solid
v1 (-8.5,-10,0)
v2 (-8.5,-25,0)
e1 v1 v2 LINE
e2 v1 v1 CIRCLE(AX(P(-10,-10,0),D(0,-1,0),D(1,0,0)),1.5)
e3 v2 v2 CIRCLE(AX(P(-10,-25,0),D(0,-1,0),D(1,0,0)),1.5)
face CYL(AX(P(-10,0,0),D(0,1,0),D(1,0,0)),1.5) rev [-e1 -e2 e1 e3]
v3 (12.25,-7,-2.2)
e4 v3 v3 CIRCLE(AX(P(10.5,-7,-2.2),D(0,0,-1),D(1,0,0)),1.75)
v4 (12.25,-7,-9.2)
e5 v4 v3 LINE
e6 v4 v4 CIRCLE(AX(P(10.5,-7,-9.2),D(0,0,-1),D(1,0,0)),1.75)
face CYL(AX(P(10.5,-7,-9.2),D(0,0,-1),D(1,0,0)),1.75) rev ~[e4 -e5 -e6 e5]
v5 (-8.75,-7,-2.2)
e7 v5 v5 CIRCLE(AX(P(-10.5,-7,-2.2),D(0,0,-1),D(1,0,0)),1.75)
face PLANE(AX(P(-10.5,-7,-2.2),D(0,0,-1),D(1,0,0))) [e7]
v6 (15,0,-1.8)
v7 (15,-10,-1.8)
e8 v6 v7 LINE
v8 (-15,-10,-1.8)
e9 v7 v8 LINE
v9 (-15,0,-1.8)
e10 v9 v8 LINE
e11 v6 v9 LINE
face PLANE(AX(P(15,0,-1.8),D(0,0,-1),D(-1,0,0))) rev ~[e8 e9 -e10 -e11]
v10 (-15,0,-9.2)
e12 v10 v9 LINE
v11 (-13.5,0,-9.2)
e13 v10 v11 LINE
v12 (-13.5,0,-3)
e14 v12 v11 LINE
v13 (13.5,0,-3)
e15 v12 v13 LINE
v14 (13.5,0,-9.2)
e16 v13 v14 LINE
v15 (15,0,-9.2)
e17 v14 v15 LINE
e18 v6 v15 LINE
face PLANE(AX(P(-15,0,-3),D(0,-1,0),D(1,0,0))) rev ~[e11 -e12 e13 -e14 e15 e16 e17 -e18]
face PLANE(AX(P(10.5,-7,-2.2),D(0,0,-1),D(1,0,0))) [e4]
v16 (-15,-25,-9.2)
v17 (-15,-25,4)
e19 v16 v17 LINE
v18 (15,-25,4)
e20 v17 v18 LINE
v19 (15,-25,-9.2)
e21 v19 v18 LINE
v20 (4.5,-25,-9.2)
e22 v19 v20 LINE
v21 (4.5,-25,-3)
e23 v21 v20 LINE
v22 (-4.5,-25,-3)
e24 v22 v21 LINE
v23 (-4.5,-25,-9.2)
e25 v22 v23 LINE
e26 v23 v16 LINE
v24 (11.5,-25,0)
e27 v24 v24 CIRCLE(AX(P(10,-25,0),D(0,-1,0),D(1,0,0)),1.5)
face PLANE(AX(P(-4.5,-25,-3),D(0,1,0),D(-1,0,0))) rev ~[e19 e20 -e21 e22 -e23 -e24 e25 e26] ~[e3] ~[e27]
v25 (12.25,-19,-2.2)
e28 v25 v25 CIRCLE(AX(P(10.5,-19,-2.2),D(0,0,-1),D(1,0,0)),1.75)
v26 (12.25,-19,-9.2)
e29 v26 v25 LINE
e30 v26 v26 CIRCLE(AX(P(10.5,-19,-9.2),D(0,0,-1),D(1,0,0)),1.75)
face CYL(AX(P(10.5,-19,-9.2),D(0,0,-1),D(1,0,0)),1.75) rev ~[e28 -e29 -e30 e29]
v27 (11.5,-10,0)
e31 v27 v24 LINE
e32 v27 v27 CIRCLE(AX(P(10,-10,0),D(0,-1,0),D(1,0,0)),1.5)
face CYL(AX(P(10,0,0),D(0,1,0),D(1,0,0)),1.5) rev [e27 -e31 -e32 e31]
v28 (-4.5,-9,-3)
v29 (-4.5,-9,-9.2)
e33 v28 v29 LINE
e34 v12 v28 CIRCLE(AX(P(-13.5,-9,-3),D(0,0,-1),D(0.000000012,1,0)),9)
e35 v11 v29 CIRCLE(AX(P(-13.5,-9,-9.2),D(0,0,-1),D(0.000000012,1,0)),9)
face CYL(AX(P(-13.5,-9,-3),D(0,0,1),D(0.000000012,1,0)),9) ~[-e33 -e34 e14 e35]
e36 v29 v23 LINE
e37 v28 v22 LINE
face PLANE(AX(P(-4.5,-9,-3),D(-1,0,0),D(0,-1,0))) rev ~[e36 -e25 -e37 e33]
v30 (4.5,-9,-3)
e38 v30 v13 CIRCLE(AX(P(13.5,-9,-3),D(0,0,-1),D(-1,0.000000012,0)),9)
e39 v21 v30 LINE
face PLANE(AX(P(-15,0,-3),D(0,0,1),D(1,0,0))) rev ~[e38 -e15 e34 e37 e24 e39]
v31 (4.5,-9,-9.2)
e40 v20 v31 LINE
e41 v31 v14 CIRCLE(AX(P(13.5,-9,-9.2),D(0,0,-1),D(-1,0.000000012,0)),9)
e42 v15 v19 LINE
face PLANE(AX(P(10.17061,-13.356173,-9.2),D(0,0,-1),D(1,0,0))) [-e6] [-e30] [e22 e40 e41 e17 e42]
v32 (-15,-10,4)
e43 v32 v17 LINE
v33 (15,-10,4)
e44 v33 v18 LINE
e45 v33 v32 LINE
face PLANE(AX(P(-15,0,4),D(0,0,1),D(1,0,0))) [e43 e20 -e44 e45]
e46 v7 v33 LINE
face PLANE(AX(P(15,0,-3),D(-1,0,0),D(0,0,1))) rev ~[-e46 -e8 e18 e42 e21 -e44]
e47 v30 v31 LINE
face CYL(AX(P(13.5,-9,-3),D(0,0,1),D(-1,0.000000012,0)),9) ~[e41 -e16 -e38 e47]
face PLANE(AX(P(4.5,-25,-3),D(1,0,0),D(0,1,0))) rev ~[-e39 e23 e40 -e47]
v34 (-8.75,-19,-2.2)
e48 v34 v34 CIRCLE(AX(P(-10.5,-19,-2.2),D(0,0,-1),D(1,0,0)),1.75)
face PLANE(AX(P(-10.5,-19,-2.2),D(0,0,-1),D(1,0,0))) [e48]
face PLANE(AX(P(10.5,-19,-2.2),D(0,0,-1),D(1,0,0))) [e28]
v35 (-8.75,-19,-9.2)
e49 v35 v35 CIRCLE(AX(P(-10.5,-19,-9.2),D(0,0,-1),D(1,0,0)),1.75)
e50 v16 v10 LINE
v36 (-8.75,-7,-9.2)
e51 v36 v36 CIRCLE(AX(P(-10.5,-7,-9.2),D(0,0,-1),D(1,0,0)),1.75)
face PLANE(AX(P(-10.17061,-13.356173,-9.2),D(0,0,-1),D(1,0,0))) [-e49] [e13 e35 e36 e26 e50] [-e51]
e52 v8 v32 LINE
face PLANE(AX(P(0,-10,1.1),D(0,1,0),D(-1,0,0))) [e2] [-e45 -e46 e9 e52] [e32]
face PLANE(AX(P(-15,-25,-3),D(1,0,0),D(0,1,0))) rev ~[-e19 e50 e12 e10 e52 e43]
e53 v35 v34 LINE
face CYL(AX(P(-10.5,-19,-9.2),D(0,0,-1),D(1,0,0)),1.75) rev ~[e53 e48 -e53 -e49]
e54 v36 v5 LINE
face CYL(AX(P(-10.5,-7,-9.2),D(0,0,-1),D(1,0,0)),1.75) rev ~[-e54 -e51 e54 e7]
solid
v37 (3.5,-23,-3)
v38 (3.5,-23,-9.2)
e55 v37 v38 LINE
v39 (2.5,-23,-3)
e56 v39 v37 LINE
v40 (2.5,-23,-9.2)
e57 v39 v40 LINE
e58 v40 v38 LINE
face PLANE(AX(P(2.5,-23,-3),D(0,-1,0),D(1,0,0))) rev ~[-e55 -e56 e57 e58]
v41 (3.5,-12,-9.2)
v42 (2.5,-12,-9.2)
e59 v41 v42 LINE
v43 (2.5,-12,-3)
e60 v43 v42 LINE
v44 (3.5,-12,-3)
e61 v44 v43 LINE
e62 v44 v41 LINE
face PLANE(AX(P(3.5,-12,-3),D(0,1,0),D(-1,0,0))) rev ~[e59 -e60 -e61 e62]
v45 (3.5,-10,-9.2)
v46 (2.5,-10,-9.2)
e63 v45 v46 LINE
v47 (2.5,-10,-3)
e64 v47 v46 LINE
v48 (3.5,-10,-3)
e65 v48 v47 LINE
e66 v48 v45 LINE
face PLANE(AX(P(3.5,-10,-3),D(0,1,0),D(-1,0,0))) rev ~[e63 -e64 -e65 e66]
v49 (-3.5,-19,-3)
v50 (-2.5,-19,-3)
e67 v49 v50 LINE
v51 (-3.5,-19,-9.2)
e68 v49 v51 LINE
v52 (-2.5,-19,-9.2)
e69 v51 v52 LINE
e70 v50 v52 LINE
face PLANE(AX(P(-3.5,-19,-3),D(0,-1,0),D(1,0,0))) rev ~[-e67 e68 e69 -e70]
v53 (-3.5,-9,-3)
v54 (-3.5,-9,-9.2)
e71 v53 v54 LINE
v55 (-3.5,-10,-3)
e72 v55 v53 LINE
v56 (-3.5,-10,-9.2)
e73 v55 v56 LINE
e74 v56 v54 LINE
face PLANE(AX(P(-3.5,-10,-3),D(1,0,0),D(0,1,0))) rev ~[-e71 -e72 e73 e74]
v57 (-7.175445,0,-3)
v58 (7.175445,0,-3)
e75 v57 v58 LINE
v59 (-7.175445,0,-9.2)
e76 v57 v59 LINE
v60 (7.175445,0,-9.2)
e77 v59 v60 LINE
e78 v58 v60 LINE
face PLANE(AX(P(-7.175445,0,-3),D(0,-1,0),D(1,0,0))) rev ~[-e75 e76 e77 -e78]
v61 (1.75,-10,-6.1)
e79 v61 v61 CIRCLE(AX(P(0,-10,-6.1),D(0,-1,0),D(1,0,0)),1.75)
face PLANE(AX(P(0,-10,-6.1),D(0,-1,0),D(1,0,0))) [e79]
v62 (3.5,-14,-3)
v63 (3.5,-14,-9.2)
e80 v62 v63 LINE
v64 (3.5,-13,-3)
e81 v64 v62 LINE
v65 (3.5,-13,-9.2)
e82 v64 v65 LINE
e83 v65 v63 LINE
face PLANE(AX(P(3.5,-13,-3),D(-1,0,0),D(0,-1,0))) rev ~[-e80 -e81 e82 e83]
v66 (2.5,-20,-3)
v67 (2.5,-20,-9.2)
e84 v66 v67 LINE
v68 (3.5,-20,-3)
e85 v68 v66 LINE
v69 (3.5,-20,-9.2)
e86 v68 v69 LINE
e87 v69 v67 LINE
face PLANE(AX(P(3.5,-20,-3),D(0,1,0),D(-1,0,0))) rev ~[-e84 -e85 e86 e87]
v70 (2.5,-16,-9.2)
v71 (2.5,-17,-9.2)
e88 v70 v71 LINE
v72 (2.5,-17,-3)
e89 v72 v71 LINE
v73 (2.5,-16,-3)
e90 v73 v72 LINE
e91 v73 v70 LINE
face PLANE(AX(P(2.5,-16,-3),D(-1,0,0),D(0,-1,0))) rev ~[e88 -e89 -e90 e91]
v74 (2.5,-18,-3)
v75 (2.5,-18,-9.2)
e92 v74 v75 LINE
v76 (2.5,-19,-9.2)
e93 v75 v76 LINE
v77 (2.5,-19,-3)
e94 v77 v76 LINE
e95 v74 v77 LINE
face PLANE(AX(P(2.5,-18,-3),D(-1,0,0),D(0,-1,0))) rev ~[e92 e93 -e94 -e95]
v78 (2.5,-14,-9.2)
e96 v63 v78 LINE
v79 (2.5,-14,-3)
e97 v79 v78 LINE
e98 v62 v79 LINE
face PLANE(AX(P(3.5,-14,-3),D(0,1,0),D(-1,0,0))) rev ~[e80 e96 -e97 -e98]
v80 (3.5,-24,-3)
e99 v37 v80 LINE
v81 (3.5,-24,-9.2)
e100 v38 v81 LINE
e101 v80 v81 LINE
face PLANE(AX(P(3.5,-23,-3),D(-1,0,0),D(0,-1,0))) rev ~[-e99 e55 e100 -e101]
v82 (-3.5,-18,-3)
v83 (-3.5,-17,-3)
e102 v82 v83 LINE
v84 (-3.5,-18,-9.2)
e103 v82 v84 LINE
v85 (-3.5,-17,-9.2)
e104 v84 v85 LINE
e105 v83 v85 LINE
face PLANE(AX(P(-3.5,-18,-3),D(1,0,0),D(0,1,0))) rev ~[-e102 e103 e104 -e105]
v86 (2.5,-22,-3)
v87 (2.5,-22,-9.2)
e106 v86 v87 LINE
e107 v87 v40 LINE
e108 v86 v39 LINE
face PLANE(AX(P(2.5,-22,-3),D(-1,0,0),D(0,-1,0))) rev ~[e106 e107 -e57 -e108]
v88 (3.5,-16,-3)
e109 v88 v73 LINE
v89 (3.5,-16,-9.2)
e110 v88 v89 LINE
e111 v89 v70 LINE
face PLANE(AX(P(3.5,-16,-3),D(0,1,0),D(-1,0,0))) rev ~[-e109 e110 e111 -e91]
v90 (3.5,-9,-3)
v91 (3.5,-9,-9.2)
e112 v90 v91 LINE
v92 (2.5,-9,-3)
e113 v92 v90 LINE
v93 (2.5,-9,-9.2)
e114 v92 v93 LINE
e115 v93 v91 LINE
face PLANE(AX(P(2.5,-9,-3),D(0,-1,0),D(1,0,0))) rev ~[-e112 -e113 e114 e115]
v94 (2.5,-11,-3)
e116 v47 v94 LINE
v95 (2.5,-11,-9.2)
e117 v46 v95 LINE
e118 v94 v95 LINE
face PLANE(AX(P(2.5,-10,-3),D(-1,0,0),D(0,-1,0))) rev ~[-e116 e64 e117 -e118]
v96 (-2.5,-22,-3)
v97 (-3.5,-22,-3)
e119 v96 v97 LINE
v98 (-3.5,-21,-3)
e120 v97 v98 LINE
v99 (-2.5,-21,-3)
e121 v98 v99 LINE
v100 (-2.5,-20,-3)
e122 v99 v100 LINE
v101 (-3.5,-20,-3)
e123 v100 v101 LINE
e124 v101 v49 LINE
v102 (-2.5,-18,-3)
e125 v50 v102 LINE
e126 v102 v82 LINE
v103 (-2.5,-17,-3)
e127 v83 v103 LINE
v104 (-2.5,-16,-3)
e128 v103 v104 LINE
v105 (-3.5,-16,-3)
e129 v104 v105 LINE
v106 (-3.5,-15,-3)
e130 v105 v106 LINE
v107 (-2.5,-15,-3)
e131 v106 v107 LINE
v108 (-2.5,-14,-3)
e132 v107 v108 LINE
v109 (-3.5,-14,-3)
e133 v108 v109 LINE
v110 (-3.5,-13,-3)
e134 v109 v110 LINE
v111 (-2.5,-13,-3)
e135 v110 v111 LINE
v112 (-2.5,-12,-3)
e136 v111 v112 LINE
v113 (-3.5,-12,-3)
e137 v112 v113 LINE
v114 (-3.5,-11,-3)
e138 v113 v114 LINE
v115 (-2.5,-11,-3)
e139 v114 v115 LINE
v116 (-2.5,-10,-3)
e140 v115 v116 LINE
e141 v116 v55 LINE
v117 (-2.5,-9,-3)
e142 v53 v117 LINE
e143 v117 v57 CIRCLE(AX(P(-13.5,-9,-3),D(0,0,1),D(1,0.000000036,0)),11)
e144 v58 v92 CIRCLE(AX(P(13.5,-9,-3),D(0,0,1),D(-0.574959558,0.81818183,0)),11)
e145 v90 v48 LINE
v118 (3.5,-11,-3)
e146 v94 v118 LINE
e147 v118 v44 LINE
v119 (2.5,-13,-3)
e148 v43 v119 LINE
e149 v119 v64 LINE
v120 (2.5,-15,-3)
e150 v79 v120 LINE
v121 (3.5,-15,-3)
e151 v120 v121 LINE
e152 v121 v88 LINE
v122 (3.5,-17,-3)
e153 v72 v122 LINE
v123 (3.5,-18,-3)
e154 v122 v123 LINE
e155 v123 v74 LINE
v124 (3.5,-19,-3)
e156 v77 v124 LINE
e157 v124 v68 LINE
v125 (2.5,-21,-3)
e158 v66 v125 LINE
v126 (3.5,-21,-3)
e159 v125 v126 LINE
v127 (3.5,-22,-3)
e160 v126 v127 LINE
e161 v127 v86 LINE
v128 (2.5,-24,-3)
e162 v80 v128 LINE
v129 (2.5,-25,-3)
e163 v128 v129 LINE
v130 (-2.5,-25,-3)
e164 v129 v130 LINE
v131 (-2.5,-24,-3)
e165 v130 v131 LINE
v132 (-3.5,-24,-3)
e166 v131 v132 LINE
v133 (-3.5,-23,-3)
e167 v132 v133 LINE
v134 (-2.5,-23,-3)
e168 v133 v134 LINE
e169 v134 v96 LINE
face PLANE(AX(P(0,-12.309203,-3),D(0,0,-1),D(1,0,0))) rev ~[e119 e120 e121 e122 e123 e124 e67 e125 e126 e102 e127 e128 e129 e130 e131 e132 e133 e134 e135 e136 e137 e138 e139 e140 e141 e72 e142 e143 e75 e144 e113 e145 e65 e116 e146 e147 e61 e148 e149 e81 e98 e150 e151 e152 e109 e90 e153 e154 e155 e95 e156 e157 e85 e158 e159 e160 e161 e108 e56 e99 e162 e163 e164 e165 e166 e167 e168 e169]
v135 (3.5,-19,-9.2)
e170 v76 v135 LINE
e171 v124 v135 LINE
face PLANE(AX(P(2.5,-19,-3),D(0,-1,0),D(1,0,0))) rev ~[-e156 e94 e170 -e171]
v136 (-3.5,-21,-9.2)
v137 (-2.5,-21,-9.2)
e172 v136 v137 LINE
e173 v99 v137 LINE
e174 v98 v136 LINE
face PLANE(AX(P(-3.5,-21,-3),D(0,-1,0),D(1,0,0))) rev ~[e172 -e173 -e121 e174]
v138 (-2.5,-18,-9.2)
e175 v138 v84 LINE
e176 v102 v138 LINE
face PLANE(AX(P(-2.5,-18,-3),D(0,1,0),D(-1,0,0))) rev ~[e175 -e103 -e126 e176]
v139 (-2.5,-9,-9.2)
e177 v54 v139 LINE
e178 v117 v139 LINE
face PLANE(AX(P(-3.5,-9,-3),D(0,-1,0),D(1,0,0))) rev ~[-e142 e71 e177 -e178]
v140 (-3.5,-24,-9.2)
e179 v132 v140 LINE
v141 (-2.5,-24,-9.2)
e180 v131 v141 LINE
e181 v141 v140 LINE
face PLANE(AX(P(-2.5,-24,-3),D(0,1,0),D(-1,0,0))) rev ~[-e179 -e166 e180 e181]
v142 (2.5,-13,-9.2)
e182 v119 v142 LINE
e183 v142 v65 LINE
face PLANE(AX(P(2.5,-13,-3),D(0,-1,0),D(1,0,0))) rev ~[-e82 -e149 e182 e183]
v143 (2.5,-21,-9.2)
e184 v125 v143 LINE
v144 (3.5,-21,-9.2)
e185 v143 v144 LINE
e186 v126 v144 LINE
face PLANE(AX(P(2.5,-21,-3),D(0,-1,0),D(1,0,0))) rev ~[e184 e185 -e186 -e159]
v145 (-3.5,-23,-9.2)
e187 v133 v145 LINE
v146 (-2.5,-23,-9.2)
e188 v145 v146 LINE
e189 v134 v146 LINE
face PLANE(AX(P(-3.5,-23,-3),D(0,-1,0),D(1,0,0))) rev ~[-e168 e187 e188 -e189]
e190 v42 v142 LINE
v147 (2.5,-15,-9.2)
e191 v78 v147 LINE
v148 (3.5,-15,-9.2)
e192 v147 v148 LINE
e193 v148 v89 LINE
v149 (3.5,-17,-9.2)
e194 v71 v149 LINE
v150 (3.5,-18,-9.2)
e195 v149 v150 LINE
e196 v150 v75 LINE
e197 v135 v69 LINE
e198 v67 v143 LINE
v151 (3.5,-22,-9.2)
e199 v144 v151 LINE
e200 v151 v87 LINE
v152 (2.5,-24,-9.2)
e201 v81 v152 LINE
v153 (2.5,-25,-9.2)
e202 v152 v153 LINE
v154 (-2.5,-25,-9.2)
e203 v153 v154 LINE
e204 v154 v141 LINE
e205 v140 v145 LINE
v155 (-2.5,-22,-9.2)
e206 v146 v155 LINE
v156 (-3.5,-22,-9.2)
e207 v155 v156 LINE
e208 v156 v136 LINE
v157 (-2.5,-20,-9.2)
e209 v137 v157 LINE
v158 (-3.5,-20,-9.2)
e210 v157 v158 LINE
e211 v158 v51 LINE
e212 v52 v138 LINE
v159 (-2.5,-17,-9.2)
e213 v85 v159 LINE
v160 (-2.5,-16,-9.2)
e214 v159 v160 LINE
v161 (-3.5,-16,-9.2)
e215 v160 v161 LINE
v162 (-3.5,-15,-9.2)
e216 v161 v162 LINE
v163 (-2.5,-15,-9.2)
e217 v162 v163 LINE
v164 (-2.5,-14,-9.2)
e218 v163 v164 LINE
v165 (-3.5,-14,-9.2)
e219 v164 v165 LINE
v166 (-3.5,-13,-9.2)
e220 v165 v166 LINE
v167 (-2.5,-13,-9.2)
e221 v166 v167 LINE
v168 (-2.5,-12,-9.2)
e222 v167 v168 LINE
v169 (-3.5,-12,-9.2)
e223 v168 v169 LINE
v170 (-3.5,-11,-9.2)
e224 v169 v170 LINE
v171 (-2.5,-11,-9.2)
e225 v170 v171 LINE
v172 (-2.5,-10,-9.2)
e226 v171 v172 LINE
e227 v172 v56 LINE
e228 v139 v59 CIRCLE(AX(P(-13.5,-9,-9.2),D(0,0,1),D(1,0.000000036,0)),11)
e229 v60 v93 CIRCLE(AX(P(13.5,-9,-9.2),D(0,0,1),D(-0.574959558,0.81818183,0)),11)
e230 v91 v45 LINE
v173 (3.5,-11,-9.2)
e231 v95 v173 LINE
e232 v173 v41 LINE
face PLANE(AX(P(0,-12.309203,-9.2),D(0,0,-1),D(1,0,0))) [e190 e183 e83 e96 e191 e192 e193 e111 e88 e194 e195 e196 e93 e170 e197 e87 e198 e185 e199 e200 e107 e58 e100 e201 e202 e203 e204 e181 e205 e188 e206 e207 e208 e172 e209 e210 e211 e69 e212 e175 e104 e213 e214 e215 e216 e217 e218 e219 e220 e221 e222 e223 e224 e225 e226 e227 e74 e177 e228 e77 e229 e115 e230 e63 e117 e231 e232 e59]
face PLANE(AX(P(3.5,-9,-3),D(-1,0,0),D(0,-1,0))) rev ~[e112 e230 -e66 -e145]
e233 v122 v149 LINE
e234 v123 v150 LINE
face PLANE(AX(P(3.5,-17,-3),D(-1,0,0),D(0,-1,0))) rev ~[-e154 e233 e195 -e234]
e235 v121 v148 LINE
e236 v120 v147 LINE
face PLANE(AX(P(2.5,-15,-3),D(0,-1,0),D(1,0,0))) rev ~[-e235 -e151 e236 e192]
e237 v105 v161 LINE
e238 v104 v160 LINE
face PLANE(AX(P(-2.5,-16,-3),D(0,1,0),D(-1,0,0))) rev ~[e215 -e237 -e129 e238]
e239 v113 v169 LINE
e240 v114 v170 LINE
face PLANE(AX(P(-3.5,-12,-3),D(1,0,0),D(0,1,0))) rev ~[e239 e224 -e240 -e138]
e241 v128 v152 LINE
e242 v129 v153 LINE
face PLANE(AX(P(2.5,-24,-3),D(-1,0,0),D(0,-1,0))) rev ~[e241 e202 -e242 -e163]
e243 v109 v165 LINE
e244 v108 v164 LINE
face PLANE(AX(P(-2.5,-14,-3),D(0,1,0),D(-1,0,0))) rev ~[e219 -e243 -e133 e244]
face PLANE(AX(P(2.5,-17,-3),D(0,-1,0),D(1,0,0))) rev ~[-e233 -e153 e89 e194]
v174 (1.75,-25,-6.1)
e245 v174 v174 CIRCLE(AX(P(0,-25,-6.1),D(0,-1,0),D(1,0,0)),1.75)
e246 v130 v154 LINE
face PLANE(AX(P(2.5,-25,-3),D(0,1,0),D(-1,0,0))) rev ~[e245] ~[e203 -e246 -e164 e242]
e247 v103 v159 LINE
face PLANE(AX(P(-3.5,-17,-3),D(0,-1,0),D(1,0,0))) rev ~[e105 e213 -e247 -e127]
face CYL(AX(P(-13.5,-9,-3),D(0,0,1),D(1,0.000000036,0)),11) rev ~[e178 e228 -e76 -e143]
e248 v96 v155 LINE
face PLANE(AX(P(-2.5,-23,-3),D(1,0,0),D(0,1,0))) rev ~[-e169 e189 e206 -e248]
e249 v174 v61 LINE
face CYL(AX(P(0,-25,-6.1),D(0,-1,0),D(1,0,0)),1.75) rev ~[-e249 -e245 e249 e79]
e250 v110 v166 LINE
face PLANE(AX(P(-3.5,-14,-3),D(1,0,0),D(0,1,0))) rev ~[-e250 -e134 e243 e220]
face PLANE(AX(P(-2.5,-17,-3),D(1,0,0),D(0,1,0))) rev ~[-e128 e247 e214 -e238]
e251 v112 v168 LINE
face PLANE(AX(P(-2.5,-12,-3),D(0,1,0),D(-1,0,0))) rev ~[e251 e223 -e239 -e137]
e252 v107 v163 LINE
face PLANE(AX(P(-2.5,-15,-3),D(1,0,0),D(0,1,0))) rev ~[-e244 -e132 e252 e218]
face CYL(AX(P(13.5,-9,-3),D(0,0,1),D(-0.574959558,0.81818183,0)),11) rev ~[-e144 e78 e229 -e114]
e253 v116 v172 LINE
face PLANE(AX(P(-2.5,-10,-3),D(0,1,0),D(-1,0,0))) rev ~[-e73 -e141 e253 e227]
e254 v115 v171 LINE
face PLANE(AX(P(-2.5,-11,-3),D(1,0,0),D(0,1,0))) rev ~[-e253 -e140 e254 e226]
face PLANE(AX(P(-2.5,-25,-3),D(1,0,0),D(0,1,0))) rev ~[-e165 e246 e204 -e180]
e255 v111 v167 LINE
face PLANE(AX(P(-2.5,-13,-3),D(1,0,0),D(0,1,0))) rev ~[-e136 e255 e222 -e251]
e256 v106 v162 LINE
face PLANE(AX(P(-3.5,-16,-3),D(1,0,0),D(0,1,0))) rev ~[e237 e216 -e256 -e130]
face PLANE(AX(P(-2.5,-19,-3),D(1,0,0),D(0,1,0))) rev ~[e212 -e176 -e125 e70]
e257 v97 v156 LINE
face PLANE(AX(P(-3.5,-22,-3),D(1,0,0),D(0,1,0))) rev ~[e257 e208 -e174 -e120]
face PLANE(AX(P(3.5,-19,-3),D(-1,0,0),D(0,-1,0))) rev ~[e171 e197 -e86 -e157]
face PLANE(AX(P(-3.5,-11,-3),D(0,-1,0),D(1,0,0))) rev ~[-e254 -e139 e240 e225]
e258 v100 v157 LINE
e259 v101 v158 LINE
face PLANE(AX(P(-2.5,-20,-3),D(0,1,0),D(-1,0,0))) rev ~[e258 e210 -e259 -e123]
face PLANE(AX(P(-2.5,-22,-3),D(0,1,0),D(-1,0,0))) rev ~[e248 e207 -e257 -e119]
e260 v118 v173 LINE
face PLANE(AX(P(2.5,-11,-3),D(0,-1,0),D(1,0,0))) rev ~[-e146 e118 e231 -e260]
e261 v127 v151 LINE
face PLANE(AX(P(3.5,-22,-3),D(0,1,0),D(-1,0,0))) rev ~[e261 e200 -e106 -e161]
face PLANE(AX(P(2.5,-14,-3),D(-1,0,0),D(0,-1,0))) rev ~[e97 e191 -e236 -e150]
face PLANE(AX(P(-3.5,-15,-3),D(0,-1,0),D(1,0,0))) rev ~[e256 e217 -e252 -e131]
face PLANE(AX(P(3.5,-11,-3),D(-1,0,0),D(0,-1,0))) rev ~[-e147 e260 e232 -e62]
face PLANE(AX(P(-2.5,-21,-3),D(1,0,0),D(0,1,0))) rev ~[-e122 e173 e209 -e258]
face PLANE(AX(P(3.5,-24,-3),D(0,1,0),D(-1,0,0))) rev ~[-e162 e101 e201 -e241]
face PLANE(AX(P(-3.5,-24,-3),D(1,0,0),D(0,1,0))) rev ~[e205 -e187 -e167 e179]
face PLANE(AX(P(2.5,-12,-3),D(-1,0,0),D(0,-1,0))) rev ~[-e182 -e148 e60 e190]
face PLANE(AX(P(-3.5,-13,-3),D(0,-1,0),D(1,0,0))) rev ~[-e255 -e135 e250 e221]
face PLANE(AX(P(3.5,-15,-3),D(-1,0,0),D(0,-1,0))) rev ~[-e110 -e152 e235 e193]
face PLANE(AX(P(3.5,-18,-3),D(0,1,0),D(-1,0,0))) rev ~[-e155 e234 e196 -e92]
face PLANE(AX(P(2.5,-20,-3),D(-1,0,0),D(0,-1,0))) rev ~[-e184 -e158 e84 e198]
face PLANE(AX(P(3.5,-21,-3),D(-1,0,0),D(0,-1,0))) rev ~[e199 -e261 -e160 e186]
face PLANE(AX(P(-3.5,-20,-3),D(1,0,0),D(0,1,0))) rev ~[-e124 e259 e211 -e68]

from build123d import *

# Parameters (mm, degrees)
F0_W      = 30
F0_H      = 7
F0_R      = 1.5
F1_DEPTH  = 25
F3_DEPTH  = 6.2
F4_DEPTH  = 6.2
F5_R      = 1.75
F6_DEPTH  = 15
F7_R      = 1.75
F8_DEPTH  = 7
F9_W      = 30
F9_H      = 5.8
F9_R      = 1.5
F10_DEPTH = 10


with BuildPart() as f1:
    # F0 (on Front) → F1 (new body)
    with BuildSketch(Plane.XZ):
        with Locations((0, 0.5)):
            Rectangle(F0_W, F0_H)
        with Locations((-10, 0)):
            Circle(F0_R, mode=Mode.SUBTRACT)
        with Locations((10, 0)):
            Circle(F0_R, mode=Mode.SUBTRACT)
    extrude(amount=F1_DEPTH)

    # F2 (on face) → F4 (join)
    with BuildSketch(Plane(origin=(0, 0, -3), x_dir=(1, 0, 0), z_dir=(0, 0, -1))):
        with BuildLine():
            Line((-15, 0), (-13.5, 0))
            ThreePointArc((-13.5, 0), (-7.136039, 2.636039), (-4.5, 9))
            Line((-4.5, 9), (-4.5, 25))
            Line((-4.5, 25), (-15, 25))
            Line((-15, 25), (-15, 0))
        make_face()
        with BuildLine():
            Line((4.5, 25), (4.5, 9))
            ThreePointArc((4.5, 9), (7.136039, 2.636039), (13.5, 0))
            Line((13.5, 0), (15, 0))
            Line((15, 0), (15, 25))
            Line((15, 25), (4.5, 25))
        make_face()
    extrude(amount=F4_DEPTH)

    # F7 (on face) → F8 (cut)
    with BuildSketch(Plane(origin=(0, 0, -9.2), x_dir=(1, 0, 0), z_dir=(0, 0, -1))):
        with Locations((10.5, 7)):
            Circle(F7_R)
        with Locations((10.5, 19)):
            Circle(F7_R)
        with Locations((-10.5, 7)):
            Circle(F7_R)
        with Locations((-10.5, 19)):
            Circle(F7_R)
    extrude(amount=-F8_DEPTH, mode=Mode.SUBTRACT)

    # F9 (on face) → F10 (cut)
    with BuildSketch(Plane(origin=(0, 0, 0), x_dir=(-1, 0, 0), z_dir=(0, 1, 0))):
        with Locations((0, 1.1)):
            Rectangle(F9_W, F9_H)
        with Locations((-10, 0)):
            Circle(F9_R, mode=Mode.SUBTRACT)
        with Locations((10, 0)):
            Circle(F9_R, mode=Mode.SUBTRACT)
    extrude(amount=-F10_DEPTH, mode=Mode.SUBTRACT)


with BuildPart() as f3:
    # F2 (on face) → F3 (new body)
    with BuildSketch(Plane(origin=(0, 0, -3), x_dir=(1, 0, 0), z_dir=(0, 0, -1))):
        with BuildLine():
            ThreePointArc((-2.5, 9), (-3.738594, 3.929009), (-7.175445, 0))
            Line((-7.175445, 0), (7.175445, 0))
            ThreePointArc((7.175445, 0), (3.738594, 3.929009), (2.5, 9))
            Line((2.5, 9), (3.5, 9))
            Line((3.5, 9), (3.5, 10))
            Line((3.5, 10), (2.5, 10))
            Line((2.5, 10), (2.5, 11))
            Line((2.5, 11), (3.5, 11))
            Line((3.5, 11), (3.5, 12))
            Line((3.5, 12), (2.5, 12))
            Line((2.5, 12), (2.5, 13))
            Line((2.5, 13), (3.5, 13))
            Line((3.5, 13), (3.5, 14))
            Line((3.5, 14), (2.5, 14))
            Line((2.5, 14), (2.5, 15))
            Line((2.5, 15), (3.5, 15))
            Line((3.5, 15), (3.5, 16))
            Line((3.5, 16), (2.5, 16))
            Line((2.5, 16), (2.5, 17))
            Line((2.5, 17), (3.5, 17))
            Line((3.5, 17), (3.5, 18))
            Line((3.5, 18), (2.5, 18))
            Line((2.5, 18), (2.5, 19))
            Line((2.5, 19), (3.5, 19))
            Line((3.5, 19), (3.5, 20))
            Line((3.5, 20), (2.5, 20))
            Line((2.5, 20), (2.5, 21))
            Line((2.5, 21), (3.5, 21))
            Line((3.5, 21), (3.5, 22))
            Line((3.5, 22), (2.5, 22))
            Line((2.5, 22), (2.5, 23))
            Line((2.5, 23), (3.5, 23))
            Line((3.5, 23), (3.5, 24))
            Line((3.5, 24), (2.5, 24))
            Line((2.5, 24), (2.5, 25))
            Line((2.5, 25), (-2.5, 25))
            Line((-2.5, 25), (-2.5, 24))
            Line((-2.5, 24), (-3.5, 24))
            Line((-3.5, 24), (-3.5, 23))
            Line((-3.5, 23), (-2.5, 23))
            Line((-2.5, 23), (-2.5, 22))
            Line((-2.5, 22), (-3.5, 22))
            Line((-3.5, 22), (-3.5, 21))
            Line((-3.5, 21), (-2.5, 21))
            Line((-2.5, 21), (-2.5, 20))
            Line((-2.5, 20), (-3.5, 20))
            Line((-3.5, 20), (-3.5, 19))
            Line((-3.5, 19), (-2.5, 19))
            Line((-2.5, 19), (-2.5, 18))
            Line((-2.5, 18), (-3.5, 18))
            Line((-3.5, 18), (-3.5, 17))
            Line((-3.5, 17), (-2.5, 17))
            Line((-2.5, 17), (-2.5, 16))
            Line((-2.5, 16), (-3.5, 16))
            Line((-3.5, 16), (-3.5, 15))
            Line((-3.5, 15), (-2.5, 15))
            Line((-2.5, 15), (-2.5, 14))
            Line((-2.5, 14), (-3.5, 14))
            Line((-3.5, 14), (-3.5, 13))
            Line((-3.5, 13), (-2.5, 13))
            Line((-2.5, 13), (-2.5, 12))
            Line((-2.5, 12), (-3.5, 12))
            Line((-3.5, 12), (-3.5, 11))
            Line((-3.5, 11), (-2.5, 11))
            Line((-2.5, 11), (-2.5, 10))
            Line((-2.5, 10), (-3.5, 10))
            Line((-3.5, 10), (-3.5, 9))
            Line((-3.5, 9), (-2.5, 9))
        make_face()
    extrude(amount=F3_DEPTH)

    # F5 (on face) → F6 (cut)
    with BuildSketch(Plane.XZ.offset(25)):
        with Locations((0, -6.1)):
            Circle(F5_R)
    extrude(amount=-F6_DEPTH, mode=Mode.SUBTRACT)


solid = Compound([f1.part, f3.part])
